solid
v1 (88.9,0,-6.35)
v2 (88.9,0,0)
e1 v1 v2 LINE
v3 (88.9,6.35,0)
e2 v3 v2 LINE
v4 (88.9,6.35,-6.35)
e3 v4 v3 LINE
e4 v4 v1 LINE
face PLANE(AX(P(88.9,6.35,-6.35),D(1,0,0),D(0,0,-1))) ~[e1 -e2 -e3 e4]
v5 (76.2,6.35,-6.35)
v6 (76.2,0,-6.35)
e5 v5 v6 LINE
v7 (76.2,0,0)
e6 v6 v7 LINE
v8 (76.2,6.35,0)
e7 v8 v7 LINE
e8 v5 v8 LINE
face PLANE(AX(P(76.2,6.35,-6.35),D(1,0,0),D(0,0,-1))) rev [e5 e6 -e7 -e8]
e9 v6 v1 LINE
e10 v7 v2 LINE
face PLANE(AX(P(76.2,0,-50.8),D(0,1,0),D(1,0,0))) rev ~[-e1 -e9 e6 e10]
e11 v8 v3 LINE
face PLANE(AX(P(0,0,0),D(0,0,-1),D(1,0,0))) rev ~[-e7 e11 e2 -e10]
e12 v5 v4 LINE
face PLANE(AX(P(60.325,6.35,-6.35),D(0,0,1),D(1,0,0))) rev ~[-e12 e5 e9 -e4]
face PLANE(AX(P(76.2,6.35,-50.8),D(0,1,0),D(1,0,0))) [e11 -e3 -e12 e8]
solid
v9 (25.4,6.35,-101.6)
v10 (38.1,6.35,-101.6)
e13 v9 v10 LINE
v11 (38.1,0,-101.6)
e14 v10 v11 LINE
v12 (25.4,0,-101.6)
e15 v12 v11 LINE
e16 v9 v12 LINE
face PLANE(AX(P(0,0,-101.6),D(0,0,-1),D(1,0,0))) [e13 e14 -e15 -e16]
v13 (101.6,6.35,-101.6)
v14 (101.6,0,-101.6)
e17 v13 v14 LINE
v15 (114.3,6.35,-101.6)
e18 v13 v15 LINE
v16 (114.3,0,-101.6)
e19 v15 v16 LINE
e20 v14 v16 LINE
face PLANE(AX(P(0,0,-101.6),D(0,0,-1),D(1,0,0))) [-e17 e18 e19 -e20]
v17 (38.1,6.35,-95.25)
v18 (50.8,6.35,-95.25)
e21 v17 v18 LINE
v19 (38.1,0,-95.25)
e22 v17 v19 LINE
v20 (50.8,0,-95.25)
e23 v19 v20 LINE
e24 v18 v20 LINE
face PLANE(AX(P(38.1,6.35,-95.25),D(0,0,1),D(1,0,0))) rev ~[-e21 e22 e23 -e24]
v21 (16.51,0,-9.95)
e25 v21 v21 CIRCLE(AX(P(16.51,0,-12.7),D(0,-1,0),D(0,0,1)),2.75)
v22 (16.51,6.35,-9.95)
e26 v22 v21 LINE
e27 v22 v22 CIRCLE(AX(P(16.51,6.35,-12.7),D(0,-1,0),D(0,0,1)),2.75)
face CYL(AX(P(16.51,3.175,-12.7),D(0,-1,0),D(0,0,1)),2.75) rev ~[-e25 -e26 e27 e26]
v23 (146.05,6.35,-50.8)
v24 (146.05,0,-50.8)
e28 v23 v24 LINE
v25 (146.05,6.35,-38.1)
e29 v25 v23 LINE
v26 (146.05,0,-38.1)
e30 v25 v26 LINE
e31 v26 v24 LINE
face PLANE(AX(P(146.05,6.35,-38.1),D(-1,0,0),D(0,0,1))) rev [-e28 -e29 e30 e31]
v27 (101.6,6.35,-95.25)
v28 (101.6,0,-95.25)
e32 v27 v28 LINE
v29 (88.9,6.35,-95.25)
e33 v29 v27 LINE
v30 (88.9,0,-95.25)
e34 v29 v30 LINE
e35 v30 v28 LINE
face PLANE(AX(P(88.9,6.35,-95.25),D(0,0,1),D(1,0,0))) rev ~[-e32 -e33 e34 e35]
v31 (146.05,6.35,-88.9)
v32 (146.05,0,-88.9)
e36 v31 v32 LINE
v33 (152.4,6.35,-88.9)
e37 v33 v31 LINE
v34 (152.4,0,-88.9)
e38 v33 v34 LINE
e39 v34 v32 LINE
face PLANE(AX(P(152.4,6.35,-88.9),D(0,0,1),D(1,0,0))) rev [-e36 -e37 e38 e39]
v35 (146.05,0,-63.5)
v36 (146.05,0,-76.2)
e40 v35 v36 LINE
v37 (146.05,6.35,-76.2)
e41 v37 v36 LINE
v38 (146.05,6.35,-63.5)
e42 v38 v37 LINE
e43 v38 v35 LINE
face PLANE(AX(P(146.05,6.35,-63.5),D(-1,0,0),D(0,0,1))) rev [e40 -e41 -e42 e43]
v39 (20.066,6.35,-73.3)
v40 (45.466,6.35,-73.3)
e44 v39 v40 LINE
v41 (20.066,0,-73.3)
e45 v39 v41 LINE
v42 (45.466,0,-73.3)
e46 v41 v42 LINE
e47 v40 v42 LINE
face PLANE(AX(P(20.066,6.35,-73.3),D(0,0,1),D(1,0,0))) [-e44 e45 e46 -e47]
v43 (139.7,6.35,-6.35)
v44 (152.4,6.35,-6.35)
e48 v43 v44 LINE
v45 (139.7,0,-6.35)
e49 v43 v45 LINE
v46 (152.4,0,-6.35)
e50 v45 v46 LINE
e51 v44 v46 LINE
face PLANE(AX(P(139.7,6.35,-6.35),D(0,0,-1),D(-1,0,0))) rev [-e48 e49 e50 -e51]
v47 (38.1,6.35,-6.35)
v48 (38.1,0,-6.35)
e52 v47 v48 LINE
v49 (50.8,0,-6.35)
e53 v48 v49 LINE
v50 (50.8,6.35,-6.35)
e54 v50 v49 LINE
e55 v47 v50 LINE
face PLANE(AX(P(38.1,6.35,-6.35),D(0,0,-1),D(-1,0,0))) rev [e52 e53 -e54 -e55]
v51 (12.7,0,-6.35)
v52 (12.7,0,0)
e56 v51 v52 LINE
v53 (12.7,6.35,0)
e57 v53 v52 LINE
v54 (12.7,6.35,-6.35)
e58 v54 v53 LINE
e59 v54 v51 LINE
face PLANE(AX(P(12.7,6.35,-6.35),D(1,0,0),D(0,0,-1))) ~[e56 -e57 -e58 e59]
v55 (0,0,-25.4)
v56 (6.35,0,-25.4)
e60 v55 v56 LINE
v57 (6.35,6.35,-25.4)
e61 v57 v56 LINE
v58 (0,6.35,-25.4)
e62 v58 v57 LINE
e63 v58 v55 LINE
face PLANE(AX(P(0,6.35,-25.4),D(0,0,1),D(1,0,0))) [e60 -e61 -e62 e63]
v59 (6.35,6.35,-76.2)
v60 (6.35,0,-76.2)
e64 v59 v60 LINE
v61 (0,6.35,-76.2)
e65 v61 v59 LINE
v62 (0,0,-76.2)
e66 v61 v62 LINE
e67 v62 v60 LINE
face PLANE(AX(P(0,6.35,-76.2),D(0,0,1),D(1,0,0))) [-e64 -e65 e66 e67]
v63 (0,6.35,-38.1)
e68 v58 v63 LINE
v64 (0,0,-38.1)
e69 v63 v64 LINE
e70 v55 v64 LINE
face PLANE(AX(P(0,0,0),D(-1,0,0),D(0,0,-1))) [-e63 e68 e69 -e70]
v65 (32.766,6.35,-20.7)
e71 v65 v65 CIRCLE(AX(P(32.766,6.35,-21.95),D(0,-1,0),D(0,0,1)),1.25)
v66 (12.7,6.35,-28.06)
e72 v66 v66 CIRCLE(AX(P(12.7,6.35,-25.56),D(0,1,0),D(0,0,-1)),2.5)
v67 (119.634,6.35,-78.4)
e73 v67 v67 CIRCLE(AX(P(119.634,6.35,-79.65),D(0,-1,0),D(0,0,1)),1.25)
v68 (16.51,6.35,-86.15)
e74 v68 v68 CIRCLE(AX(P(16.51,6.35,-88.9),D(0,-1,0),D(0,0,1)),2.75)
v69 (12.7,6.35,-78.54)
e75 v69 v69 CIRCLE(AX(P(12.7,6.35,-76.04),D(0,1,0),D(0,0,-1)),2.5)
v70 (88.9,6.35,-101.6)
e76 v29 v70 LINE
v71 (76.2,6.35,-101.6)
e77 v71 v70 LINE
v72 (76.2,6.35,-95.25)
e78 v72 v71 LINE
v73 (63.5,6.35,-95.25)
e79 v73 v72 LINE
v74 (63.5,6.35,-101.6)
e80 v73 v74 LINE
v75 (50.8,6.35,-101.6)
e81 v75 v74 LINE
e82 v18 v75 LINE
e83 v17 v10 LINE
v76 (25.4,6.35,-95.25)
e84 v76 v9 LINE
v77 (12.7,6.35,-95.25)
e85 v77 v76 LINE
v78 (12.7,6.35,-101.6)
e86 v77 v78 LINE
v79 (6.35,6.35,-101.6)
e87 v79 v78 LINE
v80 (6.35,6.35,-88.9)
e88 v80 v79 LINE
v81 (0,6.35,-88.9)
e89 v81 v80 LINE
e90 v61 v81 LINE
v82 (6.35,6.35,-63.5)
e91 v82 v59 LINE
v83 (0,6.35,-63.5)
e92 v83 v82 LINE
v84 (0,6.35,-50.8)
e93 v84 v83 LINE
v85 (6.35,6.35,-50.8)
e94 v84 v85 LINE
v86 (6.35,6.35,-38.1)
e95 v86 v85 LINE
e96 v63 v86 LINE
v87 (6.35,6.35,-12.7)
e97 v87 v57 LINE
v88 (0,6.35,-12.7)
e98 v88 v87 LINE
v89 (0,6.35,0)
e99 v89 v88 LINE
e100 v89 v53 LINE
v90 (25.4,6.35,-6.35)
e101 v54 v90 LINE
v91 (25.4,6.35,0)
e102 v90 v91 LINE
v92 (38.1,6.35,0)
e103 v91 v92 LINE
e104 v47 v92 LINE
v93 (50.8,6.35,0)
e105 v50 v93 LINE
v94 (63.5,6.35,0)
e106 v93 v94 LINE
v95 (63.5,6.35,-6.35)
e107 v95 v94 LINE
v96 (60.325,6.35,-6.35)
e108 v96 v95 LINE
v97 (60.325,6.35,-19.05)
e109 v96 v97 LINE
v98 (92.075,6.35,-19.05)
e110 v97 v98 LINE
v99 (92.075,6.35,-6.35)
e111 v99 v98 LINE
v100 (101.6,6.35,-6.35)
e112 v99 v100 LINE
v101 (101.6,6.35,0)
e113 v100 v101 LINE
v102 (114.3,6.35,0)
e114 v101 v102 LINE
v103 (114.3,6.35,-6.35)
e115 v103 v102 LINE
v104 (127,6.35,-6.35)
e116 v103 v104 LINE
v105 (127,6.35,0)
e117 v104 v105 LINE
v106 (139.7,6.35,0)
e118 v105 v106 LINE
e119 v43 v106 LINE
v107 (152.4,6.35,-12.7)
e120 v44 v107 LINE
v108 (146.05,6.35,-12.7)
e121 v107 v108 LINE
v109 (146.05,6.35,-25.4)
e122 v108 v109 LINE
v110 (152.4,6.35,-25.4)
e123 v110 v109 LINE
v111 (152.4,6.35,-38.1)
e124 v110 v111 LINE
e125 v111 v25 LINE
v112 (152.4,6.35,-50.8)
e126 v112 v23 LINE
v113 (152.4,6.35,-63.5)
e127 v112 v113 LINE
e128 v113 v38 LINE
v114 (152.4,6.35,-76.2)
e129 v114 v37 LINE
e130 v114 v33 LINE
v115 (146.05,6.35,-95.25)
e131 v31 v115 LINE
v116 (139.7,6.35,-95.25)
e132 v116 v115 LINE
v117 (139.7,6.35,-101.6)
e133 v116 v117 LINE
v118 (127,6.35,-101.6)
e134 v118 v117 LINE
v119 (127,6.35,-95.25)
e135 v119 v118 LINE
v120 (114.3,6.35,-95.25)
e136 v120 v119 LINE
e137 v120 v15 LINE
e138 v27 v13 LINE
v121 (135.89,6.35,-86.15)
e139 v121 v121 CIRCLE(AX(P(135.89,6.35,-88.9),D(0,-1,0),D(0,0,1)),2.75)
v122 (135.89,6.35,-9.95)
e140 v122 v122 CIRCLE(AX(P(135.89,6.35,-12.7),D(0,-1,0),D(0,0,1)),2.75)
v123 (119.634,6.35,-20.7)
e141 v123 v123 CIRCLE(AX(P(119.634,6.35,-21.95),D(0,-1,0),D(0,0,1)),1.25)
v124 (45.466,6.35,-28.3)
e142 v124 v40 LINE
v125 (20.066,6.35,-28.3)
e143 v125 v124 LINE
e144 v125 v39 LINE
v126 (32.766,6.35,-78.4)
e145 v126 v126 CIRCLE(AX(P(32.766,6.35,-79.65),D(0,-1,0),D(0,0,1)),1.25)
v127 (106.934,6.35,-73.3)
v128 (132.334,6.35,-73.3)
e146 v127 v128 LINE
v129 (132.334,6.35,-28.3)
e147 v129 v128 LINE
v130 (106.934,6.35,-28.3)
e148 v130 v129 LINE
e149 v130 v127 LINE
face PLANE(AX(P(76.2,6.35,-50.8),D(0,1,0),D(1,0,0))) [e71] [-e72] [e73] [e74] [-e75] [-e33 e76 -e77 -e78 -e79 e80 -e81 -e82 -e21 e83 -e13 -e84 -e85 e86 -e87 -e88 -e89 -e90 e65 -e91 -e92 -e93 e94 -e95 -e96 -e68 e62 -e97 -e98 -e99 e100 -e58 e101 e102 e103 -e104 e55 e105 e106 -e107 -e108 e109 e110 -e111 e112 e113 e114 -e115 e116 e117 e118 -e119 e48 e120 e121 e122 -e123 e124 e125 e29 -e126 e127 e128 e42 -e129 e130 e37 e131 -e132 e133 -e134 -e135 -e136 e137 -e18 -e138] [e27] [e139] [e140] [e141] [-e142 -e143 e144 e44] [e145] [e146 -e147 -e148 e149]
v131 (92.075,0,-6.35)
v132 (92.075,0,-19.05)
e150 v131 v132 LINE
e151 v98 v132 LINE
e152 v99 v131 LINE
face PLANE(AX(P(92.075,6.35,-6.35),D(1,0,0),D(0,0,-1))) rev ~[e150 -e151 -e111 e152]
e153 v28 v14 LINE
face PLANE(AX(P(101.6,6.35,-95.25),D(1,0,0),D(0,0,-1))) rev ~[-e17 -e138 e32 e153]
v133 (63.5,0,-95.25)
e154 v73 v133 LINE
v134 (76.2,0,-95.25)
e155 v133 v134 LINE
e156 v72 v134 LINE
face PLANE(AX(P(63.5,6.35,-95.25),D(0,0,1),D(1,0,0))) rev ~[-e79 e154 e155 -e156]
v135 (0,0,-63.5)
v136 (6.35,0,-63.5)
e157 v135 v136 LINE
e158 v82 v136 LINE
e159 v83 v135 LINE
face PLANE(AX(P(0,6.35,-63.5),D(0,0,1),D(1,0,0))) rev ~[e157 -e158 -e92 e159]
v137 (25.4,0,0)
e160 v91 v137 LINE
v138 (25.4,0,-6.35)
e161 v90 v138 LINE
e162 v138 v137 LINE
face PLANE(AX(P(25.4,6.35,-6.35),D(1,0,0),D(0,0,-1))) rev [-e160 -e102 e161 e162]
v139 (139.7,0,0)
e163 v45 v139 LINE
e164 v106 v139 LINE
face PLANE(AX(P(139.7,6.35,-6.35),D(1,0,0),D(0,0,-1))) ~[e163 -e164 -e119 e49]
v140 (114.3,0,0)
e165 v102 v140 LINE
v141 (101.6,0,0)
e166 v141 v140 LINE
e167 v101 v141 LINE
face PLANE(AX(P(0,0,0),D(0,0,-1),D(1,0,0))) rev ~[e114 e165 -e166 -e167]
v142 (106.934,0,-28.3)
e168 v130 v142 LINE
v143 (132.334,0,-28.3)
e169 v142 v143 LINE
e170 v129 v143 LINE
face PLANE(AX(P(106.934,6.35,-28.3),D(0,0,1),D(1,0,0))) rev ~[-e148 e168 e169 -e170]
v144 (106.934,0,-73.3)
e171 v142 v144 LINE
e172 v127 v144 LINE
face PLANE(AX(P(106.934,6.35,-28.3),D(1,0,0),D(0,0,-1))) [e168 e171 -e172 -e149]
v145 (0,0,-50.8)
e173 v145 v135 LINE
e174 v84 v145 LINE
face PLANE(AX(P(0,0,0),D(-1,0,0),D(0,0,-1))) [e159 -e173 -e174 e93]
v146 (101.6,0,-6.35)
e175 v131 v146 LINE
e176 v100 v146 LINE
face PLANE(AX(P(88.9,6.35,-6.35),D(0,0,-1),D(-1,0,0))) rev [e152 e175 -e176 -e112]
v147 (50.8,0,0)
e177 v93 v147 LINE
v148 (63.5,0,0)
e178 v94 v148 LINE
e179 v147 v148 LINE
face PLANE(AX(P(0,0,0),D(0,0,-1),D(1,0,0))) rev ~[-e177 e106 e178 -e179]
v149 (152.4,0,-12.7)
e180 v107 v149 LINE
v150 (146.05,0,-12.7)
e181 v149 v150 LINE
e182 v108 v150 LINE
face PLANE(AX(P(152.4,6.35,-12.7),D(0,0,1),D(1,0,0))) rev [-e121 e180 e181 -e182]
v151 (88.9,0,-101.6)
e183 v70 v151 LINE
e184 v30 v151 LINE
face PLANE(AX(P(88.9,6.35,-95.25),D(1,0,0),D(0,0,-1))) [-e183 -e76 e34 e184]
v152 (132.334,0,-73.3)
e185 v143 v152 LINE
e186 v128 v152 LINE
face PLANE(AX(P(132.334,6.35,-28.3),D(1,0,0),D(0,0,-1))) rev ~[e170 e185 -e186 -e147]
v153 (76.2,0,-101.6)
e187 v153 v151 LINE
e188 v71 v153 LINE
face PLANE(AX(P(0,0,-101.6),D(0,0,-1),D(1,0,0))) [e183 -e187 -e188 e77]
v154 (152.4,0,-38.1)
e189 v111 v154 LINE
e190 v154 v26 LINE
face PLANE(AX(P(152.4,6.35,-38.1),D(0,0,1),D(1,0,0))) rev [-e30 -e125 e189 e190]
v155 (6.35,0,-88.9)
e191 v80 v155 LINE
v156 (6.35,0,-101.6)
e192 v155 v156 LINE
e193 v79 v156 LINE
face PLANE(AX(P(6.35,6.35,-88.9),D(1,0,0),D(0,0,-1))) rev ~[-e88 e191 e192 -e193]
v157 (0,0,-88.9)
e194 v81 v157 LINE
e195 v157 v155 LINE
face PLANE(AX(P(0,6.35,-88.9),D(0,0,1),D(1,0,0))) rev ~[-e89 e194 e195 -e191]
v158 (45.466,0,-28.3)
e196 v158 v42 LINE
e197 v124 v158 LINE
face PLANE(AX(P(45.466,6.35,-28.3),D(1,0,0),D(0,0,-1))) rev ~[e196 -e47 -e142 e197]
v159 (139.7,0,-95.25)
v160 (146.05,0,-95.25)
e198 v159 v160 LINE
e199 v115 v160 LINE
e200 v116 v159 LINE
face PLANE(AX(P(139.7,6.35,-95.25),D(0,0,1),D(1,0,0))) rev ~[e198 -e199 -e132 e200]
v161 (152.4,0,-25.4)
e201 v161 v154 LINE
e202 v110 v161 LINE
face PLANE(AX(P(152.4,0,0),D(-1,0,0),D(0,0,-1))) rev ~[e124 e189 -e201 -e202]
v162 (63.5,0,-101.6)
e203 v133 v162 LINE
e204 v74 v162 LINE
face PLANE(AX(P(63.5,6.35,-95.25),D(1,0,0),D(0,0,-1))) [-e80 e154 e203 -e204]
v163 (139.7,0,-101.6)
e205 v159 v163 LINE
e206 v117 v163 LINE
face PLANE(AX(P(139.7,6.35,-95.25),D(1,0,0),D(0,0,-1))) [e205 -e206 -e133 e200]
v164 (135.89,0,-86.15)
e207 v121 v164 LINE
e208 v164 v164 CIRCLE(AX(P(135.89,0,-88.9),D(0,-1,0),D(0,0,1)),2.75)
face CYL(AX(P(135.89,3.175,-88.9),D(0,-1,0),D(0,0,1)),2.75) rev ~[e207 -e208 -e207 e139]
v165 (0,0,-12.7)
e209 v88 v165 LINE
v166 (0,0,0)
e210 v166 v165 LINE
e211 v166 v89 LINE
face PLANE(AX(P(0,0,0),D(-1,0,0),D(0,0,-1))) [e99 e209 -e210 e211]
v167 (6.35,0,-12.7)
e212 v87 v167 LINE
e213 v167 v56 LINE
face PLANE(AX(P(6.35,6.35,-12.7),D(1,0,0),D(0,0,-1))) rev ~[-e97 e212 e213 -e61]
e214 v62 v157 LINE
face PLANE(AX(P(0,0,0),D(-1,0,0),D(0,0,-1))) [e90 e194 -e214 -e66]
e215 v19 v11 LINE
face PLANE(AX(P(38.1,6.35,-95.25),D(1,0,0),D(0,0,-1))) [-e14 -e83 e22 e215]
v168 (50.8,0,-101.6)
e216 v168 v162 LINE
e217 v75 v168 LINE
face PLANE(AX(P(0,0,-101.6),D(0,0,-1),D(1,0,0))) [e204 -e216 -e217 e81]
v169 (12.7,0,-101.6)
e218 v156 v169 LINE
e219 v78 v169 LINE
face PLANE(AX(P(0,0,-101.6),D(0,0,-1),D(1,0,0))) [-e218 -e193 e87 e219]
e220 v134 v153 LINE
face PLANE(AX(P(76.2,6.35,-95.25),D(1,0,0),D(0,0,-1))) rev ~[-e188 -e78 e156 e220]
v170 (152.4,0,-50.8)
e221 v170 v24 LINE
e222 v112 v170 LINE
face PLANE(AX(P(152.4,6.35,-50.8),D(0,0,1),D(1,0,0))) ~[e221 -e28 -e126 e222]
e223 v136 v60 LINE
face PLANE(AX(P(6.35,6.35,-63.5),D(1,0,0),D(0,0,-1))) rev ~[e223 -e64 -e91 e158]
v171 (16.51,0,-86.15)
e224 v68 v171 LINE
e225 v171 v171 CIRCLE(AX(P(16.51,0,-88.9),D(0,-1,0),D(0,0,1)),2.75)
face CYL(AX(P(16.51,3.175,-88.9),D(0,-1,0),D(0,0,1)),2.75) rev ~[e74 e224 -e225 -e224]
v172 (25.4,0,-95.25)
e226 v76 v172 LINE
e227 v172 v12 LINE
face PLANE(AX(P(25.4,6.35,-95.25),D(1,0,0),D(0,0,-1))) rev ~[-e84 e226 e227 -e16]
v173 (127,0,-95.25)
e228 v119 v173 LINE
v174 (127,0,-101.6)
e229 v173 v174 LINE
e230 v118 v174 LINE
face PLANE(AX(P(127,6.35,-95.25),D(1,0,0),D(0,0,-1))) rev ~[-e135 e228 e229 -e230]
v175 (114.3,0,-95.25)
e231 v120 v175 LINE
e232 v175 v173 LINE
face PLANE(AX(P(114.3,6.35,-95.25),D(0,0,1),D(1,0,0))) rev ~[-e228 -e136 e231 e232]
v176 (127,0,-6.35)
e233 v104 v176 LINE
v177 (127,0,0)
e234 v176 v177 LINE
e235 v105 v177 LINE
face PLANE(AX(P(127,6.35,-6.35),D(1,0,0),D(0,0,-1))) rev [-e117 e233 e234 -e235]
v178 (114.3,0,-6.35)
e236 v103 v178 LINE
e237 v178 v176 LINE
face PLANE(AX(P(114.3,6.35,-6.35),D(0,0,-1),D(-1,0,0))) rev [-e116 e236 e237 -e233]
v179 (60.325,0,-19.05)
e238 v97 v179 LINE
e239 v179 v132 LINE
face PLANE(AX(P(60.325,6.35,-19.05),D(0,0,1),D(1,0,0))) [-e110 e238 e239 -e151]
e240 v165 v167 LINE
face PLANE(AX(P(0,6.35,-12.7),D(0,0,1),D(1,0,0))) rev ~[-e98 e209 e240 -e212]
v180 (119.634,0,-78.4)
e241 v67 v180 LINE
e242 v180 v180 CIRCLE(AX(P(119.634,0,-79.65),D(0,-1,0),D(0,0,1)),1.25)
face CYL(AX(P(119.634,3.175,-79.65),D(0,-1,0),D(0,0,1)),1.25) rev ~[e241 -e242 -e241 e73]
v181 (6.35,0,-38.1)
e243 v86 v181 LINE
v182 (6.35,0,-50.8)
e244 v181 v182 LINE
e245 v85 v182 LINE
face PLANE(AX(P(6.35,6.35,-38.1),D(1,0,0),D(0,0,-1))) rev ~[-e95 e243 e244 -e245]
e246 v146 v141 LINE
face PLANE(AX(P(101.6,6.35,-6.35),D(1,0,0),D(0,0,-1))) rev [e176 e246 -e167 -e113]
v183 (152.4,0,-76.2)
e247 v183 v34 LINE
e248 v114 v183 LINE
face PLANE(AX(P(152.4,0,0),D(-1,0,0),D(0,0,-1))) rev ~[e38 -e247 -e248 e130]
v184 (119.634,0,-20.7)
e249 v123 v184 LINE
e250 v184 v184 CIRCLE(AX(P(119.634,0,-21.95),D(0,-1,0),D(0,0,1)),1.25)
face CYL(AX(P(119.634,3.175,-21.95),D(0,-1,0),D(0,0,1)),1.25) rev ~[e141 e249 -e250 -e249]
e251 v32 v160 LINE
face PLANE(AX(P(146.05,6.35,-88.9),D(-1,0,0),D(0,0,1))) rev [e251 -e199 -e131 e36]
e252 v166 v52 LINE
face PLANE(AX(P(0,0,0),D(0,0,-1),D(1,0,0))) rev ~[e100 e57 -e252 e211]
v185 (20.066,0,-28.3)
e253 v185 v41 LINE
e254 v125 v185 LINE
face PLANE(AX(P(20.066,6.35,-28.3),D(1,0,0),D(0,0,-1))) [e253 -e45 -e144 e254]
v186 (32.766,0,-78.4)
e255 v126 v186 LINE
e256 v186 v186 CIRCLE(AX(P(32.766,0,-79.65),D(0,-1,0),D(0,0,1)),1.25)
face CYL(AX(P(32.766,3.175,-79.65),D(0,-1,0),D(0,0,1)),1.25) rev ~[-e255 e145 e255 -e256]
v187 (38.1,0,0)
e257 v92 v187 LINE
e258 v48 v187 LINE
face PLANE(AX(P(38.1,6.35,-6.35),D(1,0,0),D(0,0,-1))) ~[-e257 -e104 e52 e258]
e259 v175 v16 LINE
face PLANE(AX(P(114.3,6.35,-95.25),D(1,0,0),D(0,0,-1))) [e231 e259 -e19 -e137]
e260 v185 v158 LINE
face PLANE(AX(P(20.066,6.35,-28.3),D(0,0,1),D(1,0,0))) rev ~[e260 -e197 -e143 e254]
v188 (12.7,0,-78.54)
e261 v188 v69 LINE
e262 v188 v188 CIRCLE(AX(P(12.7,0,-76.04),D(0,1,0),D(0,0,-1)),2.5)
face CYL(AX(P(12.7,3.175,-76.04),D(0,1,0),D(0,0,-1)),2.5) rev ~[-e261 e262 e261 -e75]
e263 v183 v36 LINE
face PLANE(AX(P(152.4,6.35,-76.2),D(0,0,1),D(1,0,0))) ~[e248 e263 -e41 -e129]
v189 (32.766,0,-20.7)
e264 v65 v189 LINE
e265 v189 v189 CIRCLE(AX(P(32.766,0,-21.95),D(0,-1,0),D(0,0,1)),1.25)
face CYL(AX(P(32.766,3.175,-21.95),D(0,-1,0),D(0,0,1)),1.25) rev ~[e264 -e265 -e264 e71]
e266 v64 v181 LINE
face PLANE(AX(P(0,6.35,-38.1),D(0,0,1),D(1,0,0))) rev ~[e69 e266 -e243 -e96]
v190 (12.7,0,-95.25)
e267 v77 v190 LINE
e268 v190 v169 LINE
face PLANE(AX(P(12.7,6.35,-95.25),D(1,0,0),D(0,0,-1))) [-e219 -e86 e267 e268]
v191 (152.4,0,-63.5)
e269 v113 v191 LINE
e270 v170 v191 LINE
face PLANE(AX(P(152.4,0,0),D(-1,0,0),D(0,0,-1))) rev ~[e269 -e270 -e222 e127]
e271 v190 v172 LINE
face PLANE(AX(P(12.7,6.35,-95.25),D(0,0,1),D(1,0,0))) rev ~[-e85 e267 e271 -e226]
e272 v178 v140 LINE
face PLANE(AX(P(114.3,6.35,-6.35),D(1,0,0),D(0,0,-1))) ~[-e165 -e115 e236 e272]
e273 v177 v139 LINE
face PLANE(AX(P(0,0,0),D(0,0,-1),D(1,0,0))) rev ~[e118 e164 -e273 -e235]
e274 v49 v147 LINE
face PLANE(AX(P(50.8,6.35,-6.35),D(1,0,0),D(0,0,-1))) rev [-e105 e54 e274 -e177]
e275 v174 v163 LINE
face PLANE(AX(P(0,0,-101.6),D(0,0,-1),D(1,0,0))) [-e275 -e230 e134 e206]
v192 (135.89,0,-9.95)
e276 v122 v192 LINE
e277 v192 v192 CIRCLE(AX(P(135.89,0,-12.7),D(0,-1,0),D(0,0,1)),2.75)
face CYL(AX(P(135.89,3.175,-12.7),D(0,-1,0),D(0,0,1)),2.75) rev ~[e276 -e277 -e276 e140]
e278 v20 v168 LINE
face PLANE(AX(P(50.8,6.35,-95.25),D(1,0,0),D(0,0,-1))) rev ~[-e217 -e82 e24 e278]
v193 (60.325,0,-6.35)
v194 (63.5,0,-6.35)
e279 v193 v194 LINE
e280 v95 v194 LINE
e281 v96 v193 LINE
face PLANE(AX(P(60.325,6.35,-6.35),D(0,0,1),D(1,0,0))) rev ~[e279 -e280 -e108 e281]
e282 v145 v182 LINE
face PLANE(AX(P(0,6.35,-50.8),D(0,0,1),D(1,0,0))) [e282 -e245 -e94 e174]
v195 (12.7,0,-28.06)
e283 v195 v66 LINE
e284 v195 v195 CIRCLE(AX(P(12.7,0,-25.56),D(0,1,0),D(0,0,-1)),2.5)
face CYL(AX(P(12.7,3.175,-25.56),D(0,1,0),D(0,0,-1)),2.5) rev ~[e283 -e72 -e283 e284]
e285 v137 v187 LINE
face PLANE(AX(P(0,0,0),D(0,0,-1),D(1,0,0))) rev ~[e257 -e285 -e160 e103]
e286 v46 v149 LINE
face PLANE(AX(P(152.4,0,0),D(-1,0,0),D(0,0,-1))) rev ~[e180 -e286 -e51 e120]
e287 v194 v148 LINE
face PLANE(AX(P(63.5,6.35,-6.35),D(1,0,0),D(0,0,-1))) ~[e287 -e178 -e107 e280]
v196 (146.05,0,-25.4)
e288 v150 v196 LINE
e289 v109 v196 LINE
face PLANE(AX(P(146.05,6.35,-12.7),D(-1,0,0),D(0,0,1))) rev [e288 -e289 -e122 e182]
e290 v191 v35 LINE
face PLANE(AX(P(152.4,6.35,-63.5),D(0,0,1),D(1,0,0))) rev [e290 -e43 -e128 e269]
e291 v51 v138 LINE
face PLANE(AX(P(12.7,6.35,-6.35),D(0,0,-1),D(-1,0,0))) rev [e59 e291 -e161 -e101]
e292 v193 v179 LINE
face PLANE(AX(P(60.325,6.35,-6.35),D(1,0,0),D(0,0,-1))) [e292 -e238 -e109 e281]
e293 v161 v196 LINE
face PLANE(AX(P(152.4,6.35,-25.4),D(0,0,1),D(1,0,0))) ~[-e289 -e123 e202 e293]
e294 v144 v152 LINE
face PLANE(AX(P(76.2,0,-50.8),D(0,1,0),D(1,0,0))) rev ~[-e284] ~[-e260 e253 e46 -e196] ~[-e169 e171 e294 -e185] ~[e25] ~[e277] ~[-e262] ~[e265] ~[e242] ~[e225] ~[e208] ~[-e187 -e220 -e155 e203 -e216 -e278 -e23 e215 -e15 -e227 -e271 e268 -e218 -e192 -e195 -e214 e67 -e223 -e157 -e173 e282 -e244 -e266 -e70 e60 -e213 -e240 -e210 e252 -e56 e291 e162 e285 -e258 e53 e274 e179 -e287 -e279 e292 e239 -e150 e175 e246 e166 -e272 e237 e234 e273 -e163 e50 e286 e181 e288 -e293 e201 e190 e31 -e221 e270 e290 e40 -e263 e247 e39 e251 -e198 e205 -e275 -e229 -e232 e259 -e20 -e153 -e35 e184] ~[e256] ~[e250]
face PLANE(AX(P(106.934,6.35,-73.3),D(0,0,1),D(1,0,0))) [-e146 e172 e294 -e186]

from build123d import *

# Parameters (mm, degrees)
SKETCH1_W                            = 152.4
SKETCH1_H                            = 101.6
BOSS_EXTRUDE2_DEPTH                  = 6.35
SKETCH2_W                            = 6.35
SKETCH2_H                            = 12.7
CUT_EXTRUDE2_DEPTH                   = 6.35
SKETCH2_4_W                          = 12.7
SKETCH2_4_H                          = 6.35
CUT_EXTRUDE3_DEPTH                   = 6.35
SKETCH9_W                            = 25.4
SKETCH9_H                            = 45
CUT_EXTRUDE4_DEPTH                   = 184.272045059
SKETCH12_W                           = 31.75
SKETCH12_H                           = 12.7
CUT_EXTRUDE6_DEPTH                   = 184.272045059
SKETCH17_W                           = 1.25
SKETCH17_H                           = 6.35
TAP_DRILL_FOR_M3X0_5_TAP1_AT_2_COUNT = 2
TAP_DRILL_FOR_M3X0_5_TAP1_AT_2_PITCH = 57.7
TAP_DRILL_FOR_M3X0_5_TAP1_AT_3_COUNT = 2
TAP_DRILL_FOR_M3X0_5_TAP1_AT_3_PITCH = 104.284895474
TAP_DRILL_FOR_M3X0_5_TAP1_AT_4_COUNT = 2
TAP_DRILL_FOR_M3X0_5_TAP1_AT_4_PITCH = 86.868
SKETCH19_W                           = 2.75
SKETCH19_H                           = 6.35
M5_CLEARANCE_HOLE1_AT_2_COUNT        = 2
M5_CLEARANCE_HOLE1_AT_2_PITCH        = 119.38
M5_CLEARANCE_HOLE1_AT_3_COUNT        = 2
M5_CLEARANCE_HOLE1_AT_3_PITCH        = 141.626354892
M5_CLEARANCE_HOLE1_AT_4_COUNT        = 2
M5_CLEARANCE_HOLE1_AT_4_PITCH        = 76.2
SKETCH21_W                           = 2.5
SKETCH21_H                           = 6.35
F_5_0MM_DOWEL_HOLE3_AT_2_COUNT       = 2
F_5_0MM_DOWEL_HOLE3_AT_2_PITCH       = 50.48


with BuildPart() as part:
    # Sketch1 → Boss-Extrude2 (new body)
    with BuildSketch(Plane(origin=(0, 0, 0), x_dir=(1, 0, 0), z_dir=(0, 1, 0))):
        with Locations((76.2, 50.8)):
            Rectangle(SKETCH1_W, SKETCH1_H)
    extrude(amount=BOSS_EXTRUDE2_DEPTH)

    # Sketch2 → Cut-Extrude2 (cut)
    with BuildSketch(Plane(origin=(0, 6.35, 0), x_dir=(1, 0, 0), z_dir=(0, 1, 0))):
        with Locations((3.175, 95.25)):
            Rectangle(SKETCH2_W, SKETCH2_H)
        with Locations((3.175, 69.85)):
            Rectangle(SKETCH2_W, SKETCH2_H)
        with Locations((3.175, 44.45)):
            Rectangle(SKETCH2_W, SKETCH2_H)
        with Locations((3.175, 19.05)):
            Rectangle(SKETCH2_W, SKETCH2_H)
    cut_extrude2 = extrude(amount=-CUT_EXTRUDE2_DEPTH, mode=Mode.SUBTRACT)

    # Mirror1: Cut-Extrude2 across plane
    add(cut_extrude2.mirror(Plane.ZY.offset(-76.2)), mode=Mode.SUBTRACT)

    # Sketch2<4> → Cut-Extrude3 (cut)
    with BuildSketch(Plane(origin=(0, 6.35, 0), x_dir=(1, 0, 0), z_dir=(0, 1, 0))):
        with Locations((19.05, 98.425)):
            Rectangle(SKETCH2_4_W, SKETCH2_4_H)
        with Locations((44.45, 98.425)):
            Rectangle(SKETCH2_4_W, SKETCH2_4_H)
        with Locations((69.85, 98.425)):
            Rectangle(SKETCH2_4_W, SKETCH2_4_H)
        with Locations((95.25, 98.425)):
            Rectangle(SKETCH2_4_W, SKETCH2_4_H)
        with Locations((146.05, 98.425)):
            Rectangle(SKETCH2_4_W, SKETCH2_4_H)
        with Locations((120.65, 98.425)):
            Rectangle(SKETCH2_4_W, SKETCH2_4_H)
    cut_extrude3 = extrude(amount=-CUT_EXTRUDE3_DEPTH, mode=Mode.SUBTRACT)

    # Mirror2: Cut-Extrude3 across plane
    add(cut_extrude3.mirror(Plane(origin=(0, 0, -50.8), x_dir=(1, 0, 0), z_dir=(0, 0, -1))), mode=Mode.SUBTRACT)

    # Sketch9 → Cut-Extrude4 (cut, through all)
    with BuildSketch(Plane(origin=(0, 6.35, 0), x_dir=(1, 0, 0), z_dir=(0, 1, 0))):
        with Locations((32.766, 50.8)):
            Rectangle(SKETCH9_W, SKETCH9_H)
        with Locations((119.634, 50.8)):
            Rectangle(SKETCH9_W, SKETCH9_H)
    extrude(amount=-CUT_EXTRUDE4_DEPTH, mode=Mode.SUBTRACT)

    # Sketch12 → Cut-Extrude6 (cut, through all)
    with BuildSketch(Plane(origin=(0, 6.35, 0), x_dir=(1, 0, 0), z_dir=(0, 1, 0))):
        with Locations((76.2, 12.7)):
            Rectangle(SKETCH12_W, SKETCH12_H)
    extrude(amount=-CUT_EXTRUDE6_DEPTH, mode=Mode.SUBTRACT)


with BuildPart() as cut_extrude6_piece_1:
    # of the separate pieces the step leaves, piece 1, a body of its own (cut_extrude6_pieces)
    add(part.part.solids().sort_by_distance((0, 0, -88.9))[0])

    # Sketch17 → Tap Drill for M3x0.5 Tap1 (revolve, cut)
    with BuildSketch(Plane(origin=(32.766, 6.35, -79.65), x_dir=(0, 0, 1), z_dir=(1, 0, 0))):
        with Locations((0.625, 3.175)):
            Rectangle(SKETCH17_W, SKETCH17_H)
    tap_drill_for_m3x0_5_tap1 = revolve(axis=Axis((32.766, 12.7, -79.65), (0, -1, 0)), mode=Mode.SUBTRACT)

    # Tap Drill for M3x0.5 Tap1 at 2: Tap Drill for M3x0.5 Tap1 ×2
    with Locations(*[(0, 0, i * TAP_DRILL_FOR_M3X0_5_TAP1_AT_2_PITCH) for i in range(1, TAP_DRILL_FOR_M3X0_5_TAP1_AT_2_COUNT)]):
        add(tap_drill_for_m3x0_5_tap1, mode=Mode.SUBTRACT)

    # Tap Drill for M3x0.5 Tap1 at 3: Tap Drill for M3x0.5 Tap1 ×2
    with Locations(*[Vector(0.8329873622182414, 0, 0.5532920154716644) * (i * TAP_DRILL_FOR_M3X0_5_TAP1_AT_3_PITCH) for i in range(1, TAP_DRILL_FOR_M3X0_5_TAP1_AT_3_COUNT)]):
        add(tap_drill_for_m3x0_5_tap1, mode=Mode.SUBTRACT)

    # Tap Drill for M3x0.5 Tap1 at 4: Tap Drill for M3x0.5 Tap1 ×2
    with Locations(*[(i * TAP_DRILL_FOR_M3X0_5_TAP1_AT_4_PITCH, 0, 0) for i in range(1, TAP_DRILL_FOR_M3X0_5_TAP1_AT_4_COUNT)]):
        add(tap_drill_for_m3x0_5_tap1, mode=Mode.SUBTRACT)

    # Sketch19 → M5 Clearance Hole1 (revolve, cut)
    with BuildSketch(Plane(origin=(16.51, 6.35, -88.9), x_dir=(0, 0, 1), z_dir=(1, 0, 0))):
        with Locations((1.375, 3.175)):
            Rectangle(SKETCH19_W, SKETCH19_H)
    m5_clearance_hole1 = revolve(axis=Axis((16.51, 12.7, -88.9), (0, -1, 0)), mode=Mode.SUBTRACT)

    # M5 Clearance Hole1 at 2: M5 Clearance Hole1 ×2
    with Locations(*[(i * M5_CLEARANCE_HOLE1_AT_2_PITCH, 0, 0) for i in range(1, M5_CLEARANCE_HOLE1_AT_2_COUNT)]):
        add(m5_clearance_hole1, mode=Mode.SUBTRACT)

    # M5 Clearance Hole1 at 3: M5 Clearance Hole1 ×2
    with Locations(*[Vector(0.8429222095775885, 0, 0.5380354529218647) * (i * M5_CLEARANCE_HOLE1_AT_3_PITCH) for i in range(1, M5_CLEARANCE_HOLE1_AT_3_COUNT)]):
        add(m5_clearance_hole1, mode=Mode.SUBTRACT)

    # M5 Clearance Hole1 at 4: M5 Clearance Hole1 ×2
    with Locations(*[(0, 0, i * M5_CLEARANCE_HOLE1_AT_4_PITCH) for i in range(1, M5_CLEARANCE_HOLE1_AT_4_COUNT)]):
        add(m5_clearance_hole1, mode=Mode.SUBTRACT)

    # Sketch21 → Ø5.0mm Dowel Hole3 (revolve, cut)
    with BuildSketch(Plane(origin=(12.7, 0, -76.04), x_dir=(0, 0, -1), z_dir=(1, 0, 0))):
        with Locations((1.25, 3.175)):
            Rectangle(SKETCH21_W, SKETCH21_H)
    f_5_0mm_dowel_hole3 = revolve(axis=Axis((12.7, -6.35, -76.04), (0, 1, 0)), mode=Mode.SUBTRACT)

    # Ø5.0mm Dowel Hole3 at 2: Ø5.0mm Dowel Hole3 ×2
    with Locations(*[(0, 0, i * F_5_0MM_DOWEL_HOLE3_AT_2_PITCH) for i in range(1, F_5_0MM_DOWEL_HOLE3_AT_2_COUNT)]):
        add(f_5_0mm_dowel_hole3, mode=Mode.SUBTRACT)


with BuildPart() as cut_extrude6_piece_2:
    # of the separate pieces the step leaves, piece 2, a body of its own (cut_extrude6_pieces)
    add(part.part.solids().sort_by_distance((88.9, 0, -6.35))[0])


solid = Compound([cut_extrude6_piece_1.part, cut_extrude6_piece_2.part])
